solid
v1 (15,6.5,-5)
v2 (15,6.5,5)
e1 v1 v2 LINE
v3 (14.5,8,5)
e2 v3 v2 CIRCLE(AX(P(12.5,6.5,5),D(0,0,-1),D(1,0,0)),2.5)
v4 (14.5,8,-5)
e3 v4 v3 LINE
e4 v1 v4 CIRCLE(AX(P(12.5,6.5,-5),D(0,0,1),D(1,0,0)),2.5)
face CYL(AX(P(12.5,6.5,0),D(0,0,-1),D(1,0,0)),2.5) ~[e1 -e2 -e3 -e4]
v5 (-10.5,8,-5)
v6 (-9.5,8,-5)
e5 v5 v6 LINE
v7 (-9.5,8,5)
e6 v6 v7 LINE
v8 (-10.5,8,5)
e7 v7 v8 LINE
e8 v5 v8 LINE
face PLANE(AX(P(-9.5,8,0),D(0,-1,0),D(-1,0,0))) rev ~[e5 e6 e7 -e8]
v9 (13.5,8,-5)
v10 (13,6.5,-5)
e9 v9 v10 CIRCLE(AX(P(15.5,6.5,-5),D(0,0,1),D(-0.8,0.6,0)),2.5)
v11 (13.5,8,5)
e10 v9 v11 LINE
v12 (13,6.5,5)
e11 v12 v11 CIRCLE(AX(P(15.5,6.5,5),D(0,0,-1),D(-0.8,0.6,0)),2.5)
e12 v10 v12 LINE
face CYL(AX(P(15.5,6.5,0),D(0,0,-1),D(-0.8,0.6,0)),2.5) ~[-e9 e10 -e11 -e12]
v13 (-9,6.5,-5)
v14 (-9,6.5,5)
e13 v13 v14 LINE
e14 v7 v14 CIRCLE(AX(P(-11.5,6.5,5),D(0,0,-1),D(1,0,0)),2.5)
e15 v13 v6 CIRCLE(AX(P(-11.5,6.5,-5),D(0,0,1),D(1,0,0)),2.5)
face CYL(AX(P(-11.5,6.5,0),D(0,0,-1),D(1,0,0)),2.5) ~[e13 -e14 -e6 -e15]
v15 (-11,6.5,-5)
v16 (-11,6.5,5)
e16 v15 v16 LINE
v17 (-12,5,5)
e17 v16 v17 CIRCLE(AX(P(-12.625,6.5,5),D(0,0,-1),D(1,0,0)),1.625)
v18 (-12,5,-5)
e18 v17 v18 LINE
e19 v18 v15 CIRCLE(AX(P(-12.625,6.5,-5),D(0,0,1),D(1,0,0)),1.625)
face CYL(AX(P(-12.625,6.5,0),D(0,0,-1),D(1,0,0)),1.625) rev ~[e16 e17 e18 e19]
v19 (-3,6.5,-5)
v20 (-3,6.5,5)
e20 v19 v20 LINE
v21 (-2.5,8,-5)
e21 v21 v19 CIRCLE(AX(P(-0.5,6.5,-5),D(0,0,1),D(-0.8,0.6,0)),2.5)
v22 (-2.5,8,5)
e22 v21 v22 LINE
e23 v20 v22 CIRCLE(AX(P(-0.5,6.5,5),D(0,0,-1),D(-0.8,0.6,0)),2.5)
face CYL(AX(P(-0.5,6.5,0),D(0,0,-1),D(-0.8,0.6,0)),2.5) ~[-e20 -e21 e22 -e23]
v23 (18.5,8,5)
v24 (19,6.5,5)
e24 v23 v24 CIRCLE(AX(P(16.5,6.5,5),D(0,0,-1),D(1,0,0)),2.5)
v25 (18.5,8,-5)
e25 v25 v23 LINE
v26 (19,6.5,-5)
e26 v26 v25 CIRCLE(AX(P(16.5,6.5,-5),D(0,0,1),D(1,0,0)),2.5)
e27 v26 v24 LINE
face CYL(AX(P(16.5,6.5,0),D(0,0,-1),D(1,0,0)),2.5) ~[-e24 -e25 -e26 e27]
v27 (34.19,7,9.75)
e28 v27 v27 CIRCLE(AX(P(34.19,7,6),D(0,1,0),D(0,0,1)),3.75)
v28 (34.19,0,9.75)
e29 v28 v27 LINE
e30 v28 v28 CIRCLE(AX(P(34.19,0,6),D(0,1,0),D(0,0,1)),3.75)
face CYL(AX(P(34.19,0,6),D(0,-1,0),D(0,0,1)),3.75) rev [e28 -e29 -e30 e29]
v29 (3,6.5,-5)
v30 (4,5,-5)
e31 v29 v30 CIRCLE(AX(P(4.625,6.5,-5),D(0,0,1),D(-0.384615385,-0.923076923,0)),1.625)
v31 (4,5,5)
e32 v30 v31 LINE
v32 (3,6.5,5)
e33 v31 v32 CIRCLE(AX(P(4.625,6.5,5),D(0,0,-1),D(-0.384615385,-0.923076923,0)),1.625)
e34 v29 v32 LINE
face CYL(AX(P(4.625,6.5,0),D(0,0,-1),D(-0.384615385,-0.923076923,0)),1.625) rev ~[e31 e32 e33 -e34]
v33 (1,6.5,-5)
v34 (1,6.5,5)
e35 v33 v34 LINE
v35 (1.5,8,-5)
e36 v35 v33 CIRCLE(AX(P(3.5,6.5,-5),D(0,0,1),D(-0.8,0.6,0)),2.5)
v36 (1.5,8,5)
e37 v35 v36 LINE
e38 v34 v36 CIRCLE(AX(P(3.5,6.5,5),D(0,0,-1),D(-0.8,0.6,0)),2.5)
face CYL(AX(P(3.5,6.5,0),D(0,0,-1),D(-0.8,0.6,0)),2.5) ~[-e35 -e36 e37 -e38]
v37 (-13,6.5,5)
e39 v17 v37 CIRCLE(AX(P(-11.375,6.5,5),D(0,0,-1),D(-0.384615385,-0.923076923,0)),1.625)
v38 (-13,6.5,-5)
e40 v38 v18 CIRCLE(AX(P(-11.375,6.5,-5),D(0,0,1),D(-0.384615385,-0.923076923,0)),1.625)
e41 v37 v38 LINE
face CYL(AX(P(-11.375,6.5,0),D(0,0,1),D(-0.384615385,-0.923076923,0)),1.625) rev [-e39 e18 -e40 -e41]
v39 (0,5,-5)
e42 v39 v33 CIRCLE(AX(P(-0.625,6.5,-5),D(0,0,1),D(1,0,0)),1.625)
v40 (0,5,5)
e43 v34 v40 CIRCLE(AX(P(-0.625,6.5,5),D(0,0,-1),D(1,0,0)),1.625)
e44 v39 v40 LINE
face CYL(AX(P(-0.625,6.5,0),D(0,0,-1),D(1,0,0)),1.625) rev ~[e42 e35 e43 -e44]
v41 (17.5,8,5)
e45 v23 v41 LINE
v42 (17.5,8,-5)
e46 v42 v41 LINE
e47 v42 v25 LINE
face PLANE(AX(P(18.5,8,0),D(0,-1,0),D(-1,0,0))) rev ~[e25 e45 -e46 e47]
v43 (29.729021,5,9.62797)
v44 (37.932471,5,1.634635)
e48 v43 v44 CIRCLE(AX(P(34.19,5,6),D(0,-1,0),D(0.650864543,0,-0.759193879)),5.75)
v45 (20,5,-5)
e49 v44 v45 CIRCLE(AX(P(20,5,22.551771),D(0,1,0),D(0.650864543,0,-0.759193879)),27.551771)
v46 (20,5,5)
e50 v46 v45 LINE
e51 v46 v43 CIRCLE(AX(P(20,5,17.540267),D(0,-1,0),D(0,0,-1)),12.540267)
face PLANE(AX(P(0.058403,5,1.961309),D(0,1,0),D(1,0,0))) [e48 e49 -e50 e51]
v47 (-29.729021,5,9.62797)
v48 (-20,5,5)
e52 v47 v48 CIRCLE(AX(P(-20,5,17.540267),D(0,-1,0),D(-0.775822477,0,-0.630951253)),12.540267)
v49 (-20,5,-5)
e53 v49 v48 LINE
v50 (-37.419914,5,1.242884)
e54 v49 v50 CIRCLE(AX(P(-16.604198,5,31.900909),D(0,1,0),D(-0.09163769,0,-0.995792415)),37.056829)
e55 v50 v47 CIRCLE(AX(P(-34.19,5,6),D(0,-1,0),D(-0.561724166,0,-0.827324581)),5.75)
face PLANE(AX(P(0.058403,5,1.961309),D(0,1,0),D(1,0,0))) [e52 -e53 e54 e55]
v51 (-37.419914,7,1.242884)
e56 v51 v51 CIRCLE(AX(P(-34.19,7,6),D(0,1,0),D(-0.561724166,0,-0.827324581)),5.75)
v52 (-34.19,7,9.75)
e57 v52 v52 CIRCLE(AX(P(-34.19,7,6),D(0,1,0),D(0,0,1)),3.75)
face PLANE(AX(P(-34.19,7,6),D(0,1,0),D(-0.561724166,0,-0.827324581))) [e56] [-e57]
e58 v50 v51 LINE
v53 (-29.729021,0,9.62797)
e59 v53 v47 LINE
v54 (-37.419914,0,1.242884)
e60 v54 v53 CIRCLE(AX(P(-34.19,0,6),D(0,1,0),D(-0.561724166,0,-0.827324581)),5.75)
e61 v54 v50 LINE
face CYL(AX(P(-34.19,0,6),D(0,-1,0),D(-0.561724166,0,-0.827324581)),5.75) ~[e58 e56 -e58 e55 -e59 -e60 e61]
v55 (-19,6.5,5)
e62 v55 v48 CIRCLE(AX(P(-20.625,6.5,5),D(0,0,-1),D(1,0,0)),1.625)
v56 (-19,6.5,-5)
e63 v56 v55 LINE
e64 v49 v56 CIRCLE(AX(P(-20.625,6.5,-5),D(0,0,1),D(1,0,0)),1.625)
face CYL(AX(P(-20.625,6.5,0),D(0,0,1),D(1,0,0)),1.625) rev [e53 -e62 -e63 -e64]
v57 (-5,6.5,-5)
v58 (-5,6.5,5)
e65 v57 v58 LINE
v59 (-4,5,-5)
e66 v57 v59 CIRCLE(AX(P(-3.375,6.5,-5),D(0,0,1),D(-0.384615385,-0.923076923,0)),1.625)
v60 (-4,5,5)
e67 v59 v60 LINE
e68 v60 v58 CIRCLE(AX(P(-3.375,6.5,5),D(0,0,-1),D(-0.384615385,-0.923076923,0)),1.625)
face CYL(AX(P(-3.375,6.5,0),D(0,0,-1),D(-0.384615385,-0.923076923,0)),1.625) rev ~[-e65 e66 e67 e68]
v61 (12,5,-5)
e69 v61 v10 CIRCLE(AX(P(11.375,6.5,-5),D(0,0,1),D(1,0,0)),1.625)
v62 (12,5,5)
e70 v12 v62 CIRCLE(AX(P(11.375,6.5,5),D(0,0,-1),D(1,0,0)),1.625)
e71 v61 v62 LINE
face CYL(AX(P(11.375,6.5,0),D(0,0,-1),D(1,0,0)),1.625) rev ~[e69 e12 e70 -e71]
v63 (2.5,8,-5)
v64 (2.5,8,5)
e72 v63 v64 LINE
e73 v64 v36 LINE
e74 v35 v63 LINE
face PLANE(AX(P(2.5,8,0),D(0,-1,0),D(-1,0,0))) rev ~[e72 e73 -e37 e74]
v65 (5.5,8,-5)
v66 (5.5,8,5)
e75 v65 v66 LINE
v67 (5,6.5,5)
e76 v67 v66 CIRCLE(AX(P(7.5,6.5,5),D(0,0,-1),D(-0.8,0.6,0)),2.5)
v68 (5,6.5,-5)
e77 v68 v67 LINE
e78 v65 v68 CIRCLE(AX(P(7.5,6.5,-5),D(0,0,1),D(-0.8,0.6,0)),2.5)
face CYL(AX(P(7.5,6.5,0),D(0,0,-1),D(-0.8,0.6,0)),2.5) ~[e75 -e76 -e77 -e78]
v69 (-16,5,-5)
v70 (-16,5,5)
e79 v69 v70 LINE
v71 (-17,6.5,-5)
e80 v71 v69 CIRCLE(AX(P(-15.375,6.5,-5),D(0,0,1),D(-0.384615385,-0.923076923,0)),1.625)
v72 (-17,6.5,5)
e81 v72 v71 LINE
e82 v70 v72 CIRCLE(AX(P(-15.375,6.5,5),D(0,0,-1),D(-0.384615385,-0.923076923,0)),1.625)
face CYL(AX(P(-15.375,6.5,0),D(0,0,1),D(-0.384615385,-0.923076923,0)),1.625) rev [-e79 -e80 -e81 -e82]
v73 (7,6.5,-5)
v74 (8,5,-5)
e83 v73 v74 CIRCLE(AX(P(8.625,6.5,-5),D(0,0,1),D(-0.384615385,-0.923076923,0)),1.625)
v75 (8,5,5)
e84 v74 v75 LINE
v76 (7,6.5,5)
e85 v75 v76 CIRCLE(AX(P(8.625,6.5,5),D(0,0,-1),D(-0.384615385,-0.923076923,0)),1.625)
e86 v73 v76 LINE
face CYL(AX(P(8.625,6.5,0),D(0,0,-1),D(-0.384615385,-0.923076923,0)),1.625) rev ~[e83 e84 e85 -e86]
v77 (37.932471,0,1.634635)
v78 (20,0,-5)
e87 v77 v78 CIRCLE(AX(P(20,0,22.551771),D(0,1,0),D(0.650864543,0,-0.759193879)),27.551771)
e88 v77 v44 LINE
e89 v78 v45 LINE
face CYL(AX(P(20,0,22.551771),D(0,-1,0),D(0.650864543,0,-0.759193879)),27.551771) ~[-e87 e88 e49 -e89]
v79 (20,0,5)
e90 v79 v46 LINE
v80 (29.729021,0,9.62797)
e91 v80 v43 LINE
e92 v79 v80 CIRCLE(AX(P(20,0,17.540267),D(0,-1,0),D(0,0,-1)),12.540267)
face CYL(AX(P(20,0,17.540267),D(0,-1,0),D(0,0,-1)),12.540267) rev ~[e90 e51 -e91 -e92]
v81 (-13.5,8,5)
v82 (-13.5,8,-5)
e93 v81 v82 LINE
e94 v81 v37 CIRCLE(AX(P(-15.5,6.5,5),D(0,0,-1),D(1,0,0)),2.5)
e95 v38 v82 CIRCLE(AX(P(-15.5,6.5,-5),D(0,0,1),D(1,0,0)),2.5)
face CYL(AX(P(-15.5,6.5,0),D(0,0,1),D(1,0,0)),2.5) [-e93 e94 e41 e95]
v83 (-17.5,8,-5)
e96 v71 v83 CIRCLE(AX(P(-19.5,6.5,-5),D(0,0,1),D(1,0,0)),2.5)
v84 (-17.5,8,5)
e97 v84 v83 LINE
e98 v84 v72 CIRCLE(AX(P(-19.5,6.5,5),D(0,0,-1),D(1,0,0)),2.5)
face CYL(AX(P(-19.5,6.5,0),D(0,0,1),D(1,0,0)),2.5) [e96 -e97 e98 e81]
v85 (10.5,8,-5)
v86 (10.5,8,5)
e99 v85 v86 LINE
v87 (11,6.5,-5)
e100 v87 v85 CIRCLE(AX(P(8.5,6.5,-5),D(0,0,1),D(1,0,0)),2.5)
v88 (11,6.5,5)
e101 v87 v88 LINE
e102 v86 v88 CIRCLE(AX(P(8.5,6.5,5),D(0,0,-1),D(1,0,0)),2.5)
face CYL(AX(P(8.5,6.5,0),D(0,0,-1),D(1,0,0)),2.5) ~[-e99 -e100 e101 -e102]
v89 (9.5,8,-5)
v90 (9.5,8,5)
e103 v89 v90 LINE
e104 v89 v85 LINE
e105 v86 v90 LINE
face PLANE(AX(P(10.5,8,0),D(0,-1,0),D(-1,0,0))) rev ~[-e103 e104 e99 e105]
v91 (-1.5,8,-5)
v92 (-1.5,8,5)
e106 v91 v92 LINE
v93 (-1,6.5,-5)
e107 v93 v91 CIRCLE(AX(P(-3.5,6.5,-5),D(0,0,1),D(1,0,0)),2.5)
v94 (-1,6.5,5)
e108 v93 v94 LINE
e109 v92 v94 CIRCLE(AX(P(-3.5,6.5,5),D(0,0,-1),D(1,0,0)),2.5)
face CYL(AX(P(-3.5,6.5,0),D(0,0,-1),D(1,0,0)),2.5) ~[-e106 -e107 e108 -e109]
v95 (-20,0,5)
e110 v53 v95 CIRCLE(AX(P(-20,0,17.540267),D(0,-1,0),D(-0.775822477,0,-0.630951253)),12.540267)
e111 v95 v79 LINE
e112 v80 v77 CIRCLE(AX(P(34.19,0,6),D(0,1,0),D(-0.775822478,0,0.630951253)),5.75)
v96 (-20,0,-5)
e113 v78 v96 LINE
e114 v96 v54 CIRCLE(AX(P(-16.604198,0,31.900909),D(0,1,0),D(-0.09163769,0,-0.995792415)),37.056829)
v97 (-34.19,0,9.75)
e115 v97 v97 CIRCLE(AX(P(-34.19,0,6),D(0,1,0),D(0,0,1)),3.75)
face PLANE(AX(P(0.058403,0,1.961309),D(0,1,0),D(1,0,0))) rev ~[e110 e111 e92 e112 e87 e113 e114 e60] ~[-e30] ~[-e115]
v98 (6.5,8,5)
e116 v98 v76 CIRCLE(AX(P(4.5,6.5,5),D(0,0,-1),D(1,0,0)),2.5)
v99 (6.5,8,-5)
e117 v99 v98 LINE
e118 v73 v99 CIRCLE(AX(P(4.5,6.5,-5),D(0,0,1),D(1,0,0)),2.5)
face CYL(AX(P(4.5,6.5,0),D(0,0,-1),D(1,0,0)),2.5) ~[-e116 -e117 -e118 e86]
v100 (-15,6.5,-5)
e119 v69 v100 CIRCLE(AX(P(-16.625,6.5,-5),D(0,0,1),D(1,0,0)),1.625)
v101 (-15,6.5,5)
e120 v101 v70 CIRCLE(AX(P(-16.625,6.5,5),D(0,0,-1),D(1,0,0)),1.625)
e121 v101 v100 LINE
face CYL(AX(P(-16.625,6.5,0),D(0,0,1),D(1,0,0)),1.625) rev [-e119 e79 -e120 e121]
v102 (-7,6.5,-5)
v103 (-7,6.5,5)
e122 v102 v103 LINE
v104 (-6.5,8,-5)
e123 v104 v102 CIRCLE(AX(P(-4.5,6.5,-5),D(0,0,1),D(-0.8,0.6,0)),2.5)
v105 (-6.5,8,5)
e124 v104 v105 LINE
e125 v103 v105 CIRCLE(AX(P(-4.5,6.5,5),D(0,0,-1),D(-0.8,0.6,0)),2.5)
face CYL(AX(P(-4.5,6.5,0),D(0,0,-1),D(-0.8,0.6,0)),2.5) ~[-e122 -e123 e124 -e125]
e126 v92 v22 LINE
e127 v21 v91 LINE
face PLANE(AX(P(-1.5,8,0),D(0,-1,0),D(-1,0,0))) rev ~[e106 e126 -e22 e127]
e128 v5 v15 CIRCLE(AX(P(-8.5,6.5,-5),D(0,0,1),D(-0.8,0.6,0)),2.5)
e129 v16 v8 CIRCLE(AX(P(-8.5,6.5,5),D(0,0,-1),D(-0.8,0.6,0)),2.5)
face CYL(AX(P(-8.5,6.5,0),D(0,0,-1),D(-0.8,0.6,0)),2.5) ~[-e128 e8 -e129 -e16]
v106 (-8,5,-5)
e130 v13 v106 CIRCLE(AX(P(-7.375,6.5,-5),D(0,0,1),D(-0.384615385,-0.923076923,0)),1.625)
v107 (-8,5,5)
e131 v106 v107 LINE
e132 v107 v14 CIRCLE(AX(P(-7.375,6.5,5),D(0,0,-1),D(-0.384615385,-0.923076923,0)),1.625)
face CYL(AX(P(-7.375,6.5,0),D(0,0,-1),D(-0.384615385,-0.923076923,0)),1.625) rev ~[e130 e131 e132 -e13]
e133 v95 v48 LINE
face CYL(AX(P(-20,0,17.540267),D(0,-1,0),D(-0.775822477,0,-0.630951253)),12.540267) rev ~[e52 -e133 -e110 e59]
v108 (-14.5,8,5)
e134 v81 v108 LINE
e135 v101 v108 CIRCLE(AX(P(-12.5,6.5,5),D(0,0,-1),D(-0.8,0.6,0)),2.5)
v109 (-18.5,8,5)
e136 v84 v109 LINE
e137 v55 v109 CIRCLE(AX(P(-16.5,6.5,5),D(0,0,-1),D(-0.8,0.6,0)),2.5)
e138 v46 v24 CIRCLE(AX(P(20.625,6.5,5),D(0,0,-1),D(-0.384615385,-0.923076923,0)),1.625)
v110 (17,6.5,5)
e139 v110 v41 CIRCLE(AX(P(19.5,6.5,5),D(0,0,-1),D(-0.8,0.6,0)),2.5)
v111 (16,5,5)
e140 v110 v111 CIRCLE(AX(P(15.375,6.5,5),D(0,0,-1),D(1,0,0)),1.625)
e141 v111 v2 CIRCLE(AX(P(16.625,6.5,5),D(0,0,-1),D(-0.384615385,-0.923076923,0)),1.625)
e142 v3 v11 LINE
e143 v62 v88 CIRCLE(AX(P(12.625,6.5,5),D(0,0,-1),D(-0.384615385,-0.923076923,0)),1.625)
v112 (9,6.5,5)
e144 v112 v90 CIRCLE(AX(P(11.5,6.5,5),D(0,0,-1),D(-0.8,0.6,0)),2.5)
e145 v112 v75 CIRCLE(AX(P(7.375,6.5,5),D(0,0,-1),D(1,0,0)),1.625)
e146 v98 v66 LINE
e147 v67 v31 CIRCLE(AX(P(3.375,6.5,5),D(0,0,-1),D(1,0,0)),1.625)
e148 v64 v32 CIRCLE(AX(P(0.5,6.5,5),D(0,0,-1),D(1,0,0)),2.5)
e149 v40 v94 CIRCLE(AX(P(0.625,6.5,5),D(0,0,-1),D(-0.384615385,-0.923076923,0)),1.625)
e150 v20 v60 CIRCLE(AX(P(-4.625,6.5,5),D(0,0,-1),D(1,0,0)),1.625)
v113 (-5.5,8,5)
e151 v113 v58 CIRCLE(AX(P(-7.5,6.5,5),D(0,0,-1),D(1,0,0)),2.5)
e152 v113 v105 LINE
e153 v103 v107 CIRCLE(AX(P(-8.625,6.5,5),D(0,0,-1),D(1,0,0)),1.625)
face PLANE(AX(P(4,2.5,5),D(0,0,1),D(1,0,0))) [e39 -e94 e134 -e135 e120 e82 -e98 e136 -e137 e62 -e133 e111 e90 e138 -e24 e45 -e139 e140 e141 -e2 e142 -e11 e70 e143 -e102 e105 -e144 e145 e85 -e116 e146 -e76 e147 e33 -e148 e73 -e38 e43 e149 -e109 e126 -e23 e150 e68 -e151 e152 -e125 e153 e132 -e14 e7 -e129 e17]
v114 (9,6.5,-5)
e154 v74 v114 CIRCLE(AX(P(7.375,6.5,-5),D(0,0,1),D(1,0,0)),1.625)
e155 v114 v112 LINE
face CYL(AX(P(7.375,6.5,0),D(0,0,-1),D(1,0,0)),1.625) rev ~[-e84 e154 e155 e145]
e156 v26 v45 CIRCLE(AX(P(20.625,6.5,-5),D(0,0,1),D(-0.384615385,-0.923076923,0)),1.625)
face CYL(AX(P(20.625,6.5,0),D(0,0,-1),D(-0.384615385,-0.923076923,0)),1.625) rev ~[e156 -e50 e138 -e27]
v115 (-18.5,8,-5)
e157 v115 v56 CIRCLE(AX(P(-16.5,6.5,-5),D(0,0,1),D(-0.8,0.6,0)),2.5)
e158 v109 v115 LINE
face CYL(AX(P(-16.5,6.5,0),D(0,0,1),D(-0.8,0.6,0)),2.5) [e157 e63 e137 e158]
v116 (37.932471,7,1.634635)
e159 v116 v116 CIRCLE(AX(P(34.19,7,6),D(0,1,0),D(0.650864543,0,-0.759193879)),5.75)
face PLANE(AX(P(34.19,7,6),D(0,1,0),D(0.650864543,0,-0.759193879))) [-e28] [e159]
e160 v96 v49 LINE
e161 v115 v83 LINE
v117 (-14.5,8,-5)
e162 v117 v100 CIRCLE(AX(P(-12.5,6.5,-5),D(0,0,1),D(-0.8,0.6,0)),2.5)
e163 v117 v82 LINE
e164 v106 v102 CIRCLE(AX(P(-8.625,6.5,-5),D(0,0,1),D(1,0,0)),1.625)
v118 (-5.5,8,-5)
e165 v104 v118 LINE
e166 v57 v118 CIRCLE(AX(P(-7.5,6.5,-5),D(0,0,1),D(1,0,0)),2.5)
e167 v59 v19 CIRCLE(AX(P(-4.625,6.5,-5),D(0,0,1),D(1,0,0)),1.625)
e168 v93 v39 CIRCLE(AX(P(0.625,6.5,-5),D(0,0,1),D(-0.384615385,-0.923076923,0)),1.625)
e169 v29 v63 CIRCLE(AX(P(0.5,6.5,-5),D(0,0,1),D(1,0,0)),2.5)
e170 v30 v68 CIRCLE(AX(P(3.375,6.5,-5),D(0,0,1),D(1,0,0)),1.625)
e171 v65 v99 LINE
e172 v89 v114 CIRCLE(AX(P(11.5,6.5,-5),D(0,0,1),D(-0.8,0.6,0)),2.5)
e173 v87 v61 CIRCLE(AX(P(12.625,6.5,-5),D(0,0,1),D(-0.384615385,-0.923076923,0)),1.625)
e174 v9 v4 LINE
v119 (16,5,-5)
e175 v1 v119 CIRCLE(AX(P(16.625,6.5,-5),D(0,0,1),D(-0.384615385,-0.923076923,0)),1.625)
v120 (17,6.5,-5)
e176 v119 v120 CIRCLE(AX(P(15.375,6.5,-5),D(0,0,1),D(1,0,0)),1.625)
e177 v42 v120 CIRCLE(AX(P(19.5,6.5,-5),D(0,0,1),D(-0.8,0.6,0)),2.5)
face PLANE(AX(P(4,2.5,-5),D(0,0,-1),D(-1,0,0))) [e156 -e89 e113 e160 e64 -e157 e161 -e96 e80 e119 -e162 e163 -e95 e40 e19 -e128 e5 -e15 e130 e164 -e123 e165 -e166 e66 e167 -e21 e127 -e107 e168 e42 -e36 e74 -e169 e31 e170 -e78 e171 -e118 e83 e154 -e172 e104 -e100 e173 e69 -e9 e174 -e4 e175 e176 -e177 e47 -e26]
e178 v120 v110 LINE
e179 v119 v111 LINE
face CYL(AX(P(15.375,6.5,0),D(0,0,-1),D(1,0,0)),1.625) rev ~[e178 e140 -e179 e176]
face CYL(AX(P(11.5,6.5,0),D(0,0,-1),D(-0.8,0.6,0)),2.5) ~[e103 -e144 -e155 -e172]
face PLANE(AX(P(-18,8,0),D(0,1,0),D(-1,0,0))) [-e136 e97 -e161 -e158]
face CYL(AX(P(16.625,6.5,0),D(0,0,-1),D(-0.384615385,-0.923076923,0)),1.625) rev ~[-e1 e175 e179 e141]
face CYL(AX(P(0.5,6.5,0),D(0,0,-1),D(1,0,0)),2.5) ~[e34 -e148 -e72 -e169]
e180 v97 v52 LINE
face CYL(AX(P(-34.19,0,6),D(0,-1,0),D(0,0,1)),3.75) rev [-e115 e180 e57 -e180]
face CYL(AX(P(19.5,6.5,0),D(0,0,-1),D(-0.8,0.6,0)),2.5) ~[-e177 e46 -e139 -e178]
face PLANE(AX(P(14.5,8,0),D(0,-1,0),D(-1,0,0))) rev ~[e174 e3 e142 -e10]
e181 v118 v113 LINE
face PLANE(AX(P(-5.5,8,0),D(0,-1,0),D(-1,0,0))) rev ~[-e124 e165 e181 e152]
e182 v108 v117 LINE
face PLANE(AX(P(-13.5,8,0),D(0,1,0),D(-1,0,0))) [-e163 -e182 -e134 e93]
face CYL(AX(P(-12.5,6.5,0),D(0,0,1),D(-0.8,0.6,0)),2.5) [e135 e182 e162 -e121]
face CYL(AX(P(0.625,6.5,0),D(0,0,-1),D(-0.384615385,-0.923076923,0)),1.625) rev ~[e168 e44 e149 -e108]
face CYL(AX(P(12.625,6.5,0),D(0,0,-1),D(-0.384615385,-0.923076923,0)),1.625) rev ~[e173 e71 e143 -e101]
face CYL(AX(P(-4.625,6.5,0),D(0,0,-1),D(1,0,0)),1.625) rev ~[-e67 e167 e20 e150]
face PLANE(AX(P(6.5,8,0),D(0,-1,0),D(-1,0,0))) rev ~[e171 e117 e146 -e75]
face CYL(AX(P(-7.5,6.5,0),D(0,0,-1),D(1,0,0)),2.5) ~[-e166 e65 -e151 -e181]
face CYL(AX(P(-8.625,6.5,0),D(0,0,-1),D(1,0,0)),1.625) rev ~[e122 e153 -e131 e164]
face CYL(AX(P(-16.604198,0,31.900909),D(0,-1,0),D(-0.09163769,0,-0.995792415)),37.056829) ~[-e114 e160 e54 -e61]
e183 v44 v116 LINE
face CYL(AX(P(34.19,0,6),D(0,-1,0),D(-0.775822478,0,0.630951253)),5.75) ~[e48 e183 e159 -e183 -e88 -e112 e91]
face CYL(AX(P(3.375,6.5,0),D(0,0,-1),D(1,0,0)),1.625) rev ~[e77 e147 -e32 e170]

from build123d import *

# Parameters (mm, degrees)
SKETCH1_R                       = 3.75
BOSS_EXTRUDE1_DEPTH             = 5
BOSS_EXTRUDE2_REACH             = 43.932
SKETCH2_W                       = 1
SKETCH2_H                       = 1.5
BOSS_EXTRUDE2_DIRECTION_2_REACH = 43.932
LPATTERN1_COUNT                 = 10
LPATTERN1_PITCH                 = 4
SKETCH1_3_R                     = 5.75
SKETCH1_3_R_2                   = 3.75
BOSS_EXTRUDE3_DEPTH             = 7


with BuildPart() as part:
    # Sketch1 → Boss-Extrude1 (new body)
    with BuildSketch(Plane(origin=(0, 0, 0), x_dir=(1, 0, 0), z_dir=(0, 1, 0))):
        with BuildLine():
            ThreePointArc((-37.419913953, -1.242883661), (-38.427487159, -9.886669857), (-29.729020754, -9.627969703))
            ThreePointArc((-29.729020754, -9.627969703), (-25.386834609, -6.215943245), (-20, -5))
            Line((-20, -5), (20, -5))
            ThreePointArc((20, -5), (25.386834609, -6.215943245), (29.729020754, -9.627969703))
            ThreePointArc((29.729020754, -9.627969703), (38.202781159, -10.118262664), (37.932471123, -1.634635193))
            ThreePointArc((37.932471123, -1.634635193), (29.560228877, 3.288161479), (20, 5))
            Line((20, 5), (-20, 5))
            ThreePointArc((-20, 5), (-29.105909857, 2.983410588), (-37.419913953, -1.242883661))
        make_face()
        with Locations(Location((-34.19, -6, 0), (0, 0, 270))):
            Circle(SKETCH1_R, mode=Mode.SUBTRACT)
        with Locations(Location((34.19, -6, 0), (0, 0, 270))):
            Circle(SKETCH1_R, mode=Mode.SUBTRACT)
    extrude(amount=BOSS_EXTRUDE1_DEPTH)

    # Boss-Extrude2: up to this face of the body (flat: up to its plane)
    boss_extrude2_end = Plane(part.part.faces().sort_by_distance((0, 2.5, 5))[0])
    # Sketch2 → Boss-Extrude2 (add, up to the picked face)
    with BuildSketch(Plane.XY, mode=Mode.PRIVATE) as boss_extrude2_sk1:
        with BuildLine():
            ThreePointArc((-19, 6.5), (-19.272918272, 5.598612181), (-20, 5))
            Line((-20, 5), (-18, 5))
            Line((-18, 5), (-18, 6.5))
            Line((-18, 6.5), (-19, 6.5))
        make_face()
    boss_extrude2_tool1 = split(extrude(boss_extrude2_sk1.sketch, amount=BOSS_EXTRUDE2_REACH, mode=Mode.PRIVATE), bisect_by=boss_extrude2_end, keep=Keep.BOTH, mode=Mode.PRIVATE)
    # Sketch2 → Boss-Extrude2 (add, up to the picked face)
    with BuildSketch(Plane.XY, mode=Mode.PRIVATE) as boss_extrude2_sk2:
        with Locations((-17.5, 5.75)):
            Rectangle(SKETCH2_W, SKETCH2_H)
    boss_extrude2_tool2 = split(extrude(boss_extrude2_sk2.sketch, amount=BOSS_EXTRUDE2_REACH, mode=Mode.PRIVATE), bisect_by=boss_extrude2_end, keep=Keep.BOTH, mode=Mode.PRIVATE)
    # Sketch2 → Boss-Extrude2 (add, up to the picked face)
    with BuildSketch(Plane.XY, mode=Mode.PRIVATE) as boss_extrude2_sk3:
        with BuildLine():
            Line((-17, 6.5), (-17, 5))
            Line((-17, 5), (-16, 5))
            ThreePointArc((-16, 5), (-16.727081728, 5.598612181), (-17, 6.5))
        make_face()
    boss_extrude2_tool3 = split(extrude(boss_extrude2_sk3.sketch, amount=BOSS_EXTRUDE2_REACH, mode=Mode.PRIVATE), bisect_by=boss_extrude2_end, keep=Keep.BOTH, mode=Mode.PRIVATE)
    # Sketch2 → Boss-Extrude2 (add, up to the picked face)
    with BuildSketch(Plane.XY, mode=Mode.PRIVATE) as boss_extrude2_sk4:
        with BuildLine():
            Line((-18, 8), (-18, 6.5))
            Line((-18, 6.5), (-17, 6.5))
            ThreePointArc((-17, 6.5), (-17.128291755, 7.290569415), (-17.5, 8))
            Line((-17.5, 8), (-18, 8))
        make_face()
    boss_extrude2_tool4 = split(extrude(boss_extrude2_sk4.sketch, amount=BOSS_EXTRUDE2_REACH, mode=Mode.PRIVATE), bisect_by=boss_extrude2_end, keep=Keep.BOTH, mode=Mode.PRIVATE)
    # Sketch2 → Boss-Extrude2 (add, up to the picked face)
    with BuildSketch(Plane.XY, mode=Mode.PRIVATE) as boss_extrude2_sk5:
        with BuildLine():
            ThreePointArc((-18.5, 8), (-18.871708245, 7.290569415), (-19, 6.5))
            Line((-19, 6.5), (-18, 6.5))
            Line((-18, 6.5), (-18, 8))
            Line((-18, 8), (-18.5, 8))
        make_face()
    boss_extrude2_tool5 = split(extrude(boss_extrude2_sk5.sketch, amount=BOSS_EXTRUDE2_REACH, mode=Mode.PRIVATE), bisect_by=boss_extrude2_end, keep=Keep.BOTH, mode=Mode.PRIVATE)
    boss_extrude2_1 = boss_extrude2_tool1.solids().sort_by(Axis((-18.667854, 5.662777, 0), (0, 0, 1)))[0]
    add(boss_extrude2_1)
    boss_extrude2_2 = boss_extrude2_tool2.solids().sort_by(Axis((-17.5, 5.75, 0), (0, 0, 1)))[0]
    add(boss_extrude2_2)
    boss_extrude2_3 = boss_extrude2_tool3.solids().sort_by(Axis((-16.726983, 5.348311, 0), (0, 0, 1)))[0]
    add(boss_extrude2_3)
    boss_extrude2_4 = boss_extrude2_tool4.solids().sort_by(Axis((-17.56692, 7.177404, 0), (0, 0, 1)))[0]
    add(boss_extrude2_4)
    boss_extrude2_5 = boss_extrude2_tool5.solids().sort_by(Axis((-18.43308, 7.177404, 0), (0, 0, 1)))[0]
    add(boss_extrude2_5)
    boss_extrude2 = boss_extrude2_1 + boss_extrude2_2 + boss_extrude2_3 + boss_extrude2_4 + boss_extrude2_5  # Boss-Extrude2 as one shape, for the pattern or mirror that repeats it

    # Boss-Extrude2 direction 2: up to this face of the body (flat: up to its plane)
    boss_extrude2_direction_2_end = Plane(part.part.faces().sort_by_distance((0, 2.5, -5))[0])
    # Sketch2 → Boss-Extrude2 direction 2 (add, up to the picked face)
    with BuildSketch(Plane.XY, mode=Mode.PRIVATE) as boss_extrude2_direction_2_sk1:
        with BuildLine():
            ThreePointArc((-19, 6.5), (-19.272918272, 5.598612181), (-20, 5))
            Line((-20, 5), (-18, 5))
            Line((-18, 5), (-18, 6.5))
            Line((-18, 6.5), (-19, 6.5))
        make_face()
    boss_extrude2_direction_2_tool1 = split(extrude(boss_extrude2_direction_2_sk1.sketch, amount=-BOSS_EXTRUDE2_DIRECTION_2_REACH, mode=Mode.PRIVATE), bisect_by=boss_extrude2_direction_2_end, keep=Keep.BOTH, mode=Mode.PRIVATE)
    # Sketch2 → Boss-Extrude2 direction 2 (add, up to the picked face)
    with BuildSketch(Plane.XY, mode=Mode.PRIVATE) as boss_extrude2_direction_2_sk2:
        with Locations((-17.5, 5.75)):
            Rectangle(SKETCH2_W, SKETCH2_H)
    boss_extrude2_direction_2_tool2 = split(extrude(boss_extrude2_direction_2_sk2.sketch, amount=-BOSS_EXTRUDE2_DIRECTION_2_REACH, mode=Mode.PRIVATE), bisect_by=boss_extrude2_direction_2_end, keep=Keep.BOTH, mode=Mode.PRIVATE)
    # Sketch2 → Boss-Extrude2 direction 2 (add, up to the picked face)
    with BuildSketch(Plane.XY, mode=Mode.PRIVATE) as boss_extrude2_direction_2_sk3:
        with BuildLine():
            Line((-17, 6.5), (-17, 5))
            Line((-17, 5), (-16, 5))
            ThreePointArc((-16, 5), (-16.727081728, 5.598612181), (-17, 6.5))
        make_face()
    boss_extrude2_direction_2_tool3 = split(extrude(boss_extrude2_direction_2_sk3.sketch, amount=-BOSS_EXTRUDE2_DIRECTION_2_REACH, mode=Mode.PRIVATE), bisect_by=boss_extrude2_direction_2_end, keep=Keep.BOTH, mode=Mode.PRIVATE)
    # Sketch2 → Boss-Extrude2 direction 2 (add, up to the picked face)
    with BuildSketch(Plane.XY, mode=Mode.PRIVATE) as boss_extrude2_direction_2_sk4:
        with BuildLine():
            Line((-18, 8), (-18, 6.5))
            Line((-18, 6.5), (-17, 6.5))
            ThreePointArc((-17, 6.5), (-17.128291755, 7.290569415), (-17.5, 8))
            Line((-17.5, 8), (-18, 8))
        make_face()
    boss_extrude2_direction_2_tool4 = split(extrude(boss_extrude2_direction_2_sk4.sketch, amount=-BOSS_EXTRUDE2_DIRECTION_2_REACH, mode=Mode.PRIVATE), bisect_by=boss_extrude2_direction_2_end, keep=Keep.BOTH, mode=Mode.PRIVATE)
    # Sketch2 → Boss-Extrude2 direction 2 (add, up to the picked face)
    with BuildSketch(Plane.XY, mode=Mode.PRIVATE) as boss_extrude2_direction_2_sk5:
        with BuildLine():
            ThreePointArc((-18.5, 8), (-18.871708245, 7.290569415), (-19, 6.5))
            Line((-19, 6.5), (-18, 6.5))
            Line((-18, 6.5), (-18, 8))
            Line((-18, 8), (-18.5, 8))
        make_face()
    boss_extrude2_direction_2_tool5 = split(extrude(boss_extrude2_direction_2_sk5.sketch, amount=-BOSS_EXTRUDE2_DIRECTION_2_REACH, mode=Mode.PRIVATE), bisect_by=boss_extrude2_direction_2_end, keep=Keep.BOTH, mode=Mode.PRIVATE)
    boss_extrude2_direction_2_1 = boss_extrude2_direction_2_tool1.solids().sort_by(Axis((-18.667854, 5.662777, 0), (0, 0, -1)))[0]
    add(boss_extrude2_direction_2_1)
    boss_extrude2_direction_2_2 = boss_extrude2_direction_2_tool2.solids().sort_by(Axis((-17.5, 5.75, 0), (0, 0, -1)))[0]
    add(boss_extrude2_direction_2_2)
    boss_extrude2_direction_2_3 = boss_extrude2_direction_2_tool3.solids().sort_by(Axis((-16.726983, 5.348311, 0), (0, 0, -1)))[0]
    add(boss_extrude2_direction_2_3)
    boss_extrude2_direction_2_4 = boss_extrude2_direction_2_tool4.solids().sort_by(Axis((-17.56692, 7.177404, 0), (0, 0, -1)))[0]
    add(boss_extrude2_direction_2_4)
    boss_extrude2_direction_2_5 = boss_extrude2_direction_2_tool5.solids().sort_by(Axis((-18.43308, 7.177404, 0), (0, 0, -1)))[0]
    add(boss_extrude2_direction_2_5)
    boss_extrude2_direction_2 = boss_extrude2_direction_2_1 + boss_extrude2_direction_2_2 + boss_extrude2_direction_2_3 + boss_extrude2_direction_2_4 + boss_extrude2_direction_2_5  # Boss-Extrude2 direction 2 as one shape, for the pattern or mirror that repeats it

    # LPattern1: Boss-Extrude2, Boss-Extrude2 direction 2 ×10
    with Locations(*[(i * LPATTERN1_PITCH, 0, 0) for i in range(1, LPATTERN1_COUNT)]):
        add(boss_extrude2)
        add(boss_extrude2_direction_2)

    # Sketch1<3> → Boss-Extrude3 (add)
    # profile 1 of 2: a face of its own
    with BuildSketch(Plane(origin=(0, 0, 0), x_dir=(1, 0, 0), z_dir=(0, 1, 0))):
        with Locations(Location((-34.19, -6, 0), (0, 0, 124.175119346))):
            Circle(SKETCH1_3_R)
        with Locations(Location((-34.19, -6, 0), (0, 0, 270))):
            Circle(SKETCH1_3_R_2, mode=Mode.SUBTRACT)
    # profile 2 of 2: a face of its own
    with BuildSketch(Plane(origin=(0, 0, 0), x_dir=(1, 0, 0), z_dir=(0, 1, 0))):
        with Locations(Location((34.19, -6, 0), (0, 0, 49.393183525))):
            Circle(SKETCH1_3_R)
        with Locations(Location((34.19, -6, 0), (0, 0, 270))):
            Circle(SKETCH1_3_R_2, mode=Mode.SUBTRACT)
    extrude(amount=BOSS_EXTRUDE3_DEPTH)


solid = part.part
